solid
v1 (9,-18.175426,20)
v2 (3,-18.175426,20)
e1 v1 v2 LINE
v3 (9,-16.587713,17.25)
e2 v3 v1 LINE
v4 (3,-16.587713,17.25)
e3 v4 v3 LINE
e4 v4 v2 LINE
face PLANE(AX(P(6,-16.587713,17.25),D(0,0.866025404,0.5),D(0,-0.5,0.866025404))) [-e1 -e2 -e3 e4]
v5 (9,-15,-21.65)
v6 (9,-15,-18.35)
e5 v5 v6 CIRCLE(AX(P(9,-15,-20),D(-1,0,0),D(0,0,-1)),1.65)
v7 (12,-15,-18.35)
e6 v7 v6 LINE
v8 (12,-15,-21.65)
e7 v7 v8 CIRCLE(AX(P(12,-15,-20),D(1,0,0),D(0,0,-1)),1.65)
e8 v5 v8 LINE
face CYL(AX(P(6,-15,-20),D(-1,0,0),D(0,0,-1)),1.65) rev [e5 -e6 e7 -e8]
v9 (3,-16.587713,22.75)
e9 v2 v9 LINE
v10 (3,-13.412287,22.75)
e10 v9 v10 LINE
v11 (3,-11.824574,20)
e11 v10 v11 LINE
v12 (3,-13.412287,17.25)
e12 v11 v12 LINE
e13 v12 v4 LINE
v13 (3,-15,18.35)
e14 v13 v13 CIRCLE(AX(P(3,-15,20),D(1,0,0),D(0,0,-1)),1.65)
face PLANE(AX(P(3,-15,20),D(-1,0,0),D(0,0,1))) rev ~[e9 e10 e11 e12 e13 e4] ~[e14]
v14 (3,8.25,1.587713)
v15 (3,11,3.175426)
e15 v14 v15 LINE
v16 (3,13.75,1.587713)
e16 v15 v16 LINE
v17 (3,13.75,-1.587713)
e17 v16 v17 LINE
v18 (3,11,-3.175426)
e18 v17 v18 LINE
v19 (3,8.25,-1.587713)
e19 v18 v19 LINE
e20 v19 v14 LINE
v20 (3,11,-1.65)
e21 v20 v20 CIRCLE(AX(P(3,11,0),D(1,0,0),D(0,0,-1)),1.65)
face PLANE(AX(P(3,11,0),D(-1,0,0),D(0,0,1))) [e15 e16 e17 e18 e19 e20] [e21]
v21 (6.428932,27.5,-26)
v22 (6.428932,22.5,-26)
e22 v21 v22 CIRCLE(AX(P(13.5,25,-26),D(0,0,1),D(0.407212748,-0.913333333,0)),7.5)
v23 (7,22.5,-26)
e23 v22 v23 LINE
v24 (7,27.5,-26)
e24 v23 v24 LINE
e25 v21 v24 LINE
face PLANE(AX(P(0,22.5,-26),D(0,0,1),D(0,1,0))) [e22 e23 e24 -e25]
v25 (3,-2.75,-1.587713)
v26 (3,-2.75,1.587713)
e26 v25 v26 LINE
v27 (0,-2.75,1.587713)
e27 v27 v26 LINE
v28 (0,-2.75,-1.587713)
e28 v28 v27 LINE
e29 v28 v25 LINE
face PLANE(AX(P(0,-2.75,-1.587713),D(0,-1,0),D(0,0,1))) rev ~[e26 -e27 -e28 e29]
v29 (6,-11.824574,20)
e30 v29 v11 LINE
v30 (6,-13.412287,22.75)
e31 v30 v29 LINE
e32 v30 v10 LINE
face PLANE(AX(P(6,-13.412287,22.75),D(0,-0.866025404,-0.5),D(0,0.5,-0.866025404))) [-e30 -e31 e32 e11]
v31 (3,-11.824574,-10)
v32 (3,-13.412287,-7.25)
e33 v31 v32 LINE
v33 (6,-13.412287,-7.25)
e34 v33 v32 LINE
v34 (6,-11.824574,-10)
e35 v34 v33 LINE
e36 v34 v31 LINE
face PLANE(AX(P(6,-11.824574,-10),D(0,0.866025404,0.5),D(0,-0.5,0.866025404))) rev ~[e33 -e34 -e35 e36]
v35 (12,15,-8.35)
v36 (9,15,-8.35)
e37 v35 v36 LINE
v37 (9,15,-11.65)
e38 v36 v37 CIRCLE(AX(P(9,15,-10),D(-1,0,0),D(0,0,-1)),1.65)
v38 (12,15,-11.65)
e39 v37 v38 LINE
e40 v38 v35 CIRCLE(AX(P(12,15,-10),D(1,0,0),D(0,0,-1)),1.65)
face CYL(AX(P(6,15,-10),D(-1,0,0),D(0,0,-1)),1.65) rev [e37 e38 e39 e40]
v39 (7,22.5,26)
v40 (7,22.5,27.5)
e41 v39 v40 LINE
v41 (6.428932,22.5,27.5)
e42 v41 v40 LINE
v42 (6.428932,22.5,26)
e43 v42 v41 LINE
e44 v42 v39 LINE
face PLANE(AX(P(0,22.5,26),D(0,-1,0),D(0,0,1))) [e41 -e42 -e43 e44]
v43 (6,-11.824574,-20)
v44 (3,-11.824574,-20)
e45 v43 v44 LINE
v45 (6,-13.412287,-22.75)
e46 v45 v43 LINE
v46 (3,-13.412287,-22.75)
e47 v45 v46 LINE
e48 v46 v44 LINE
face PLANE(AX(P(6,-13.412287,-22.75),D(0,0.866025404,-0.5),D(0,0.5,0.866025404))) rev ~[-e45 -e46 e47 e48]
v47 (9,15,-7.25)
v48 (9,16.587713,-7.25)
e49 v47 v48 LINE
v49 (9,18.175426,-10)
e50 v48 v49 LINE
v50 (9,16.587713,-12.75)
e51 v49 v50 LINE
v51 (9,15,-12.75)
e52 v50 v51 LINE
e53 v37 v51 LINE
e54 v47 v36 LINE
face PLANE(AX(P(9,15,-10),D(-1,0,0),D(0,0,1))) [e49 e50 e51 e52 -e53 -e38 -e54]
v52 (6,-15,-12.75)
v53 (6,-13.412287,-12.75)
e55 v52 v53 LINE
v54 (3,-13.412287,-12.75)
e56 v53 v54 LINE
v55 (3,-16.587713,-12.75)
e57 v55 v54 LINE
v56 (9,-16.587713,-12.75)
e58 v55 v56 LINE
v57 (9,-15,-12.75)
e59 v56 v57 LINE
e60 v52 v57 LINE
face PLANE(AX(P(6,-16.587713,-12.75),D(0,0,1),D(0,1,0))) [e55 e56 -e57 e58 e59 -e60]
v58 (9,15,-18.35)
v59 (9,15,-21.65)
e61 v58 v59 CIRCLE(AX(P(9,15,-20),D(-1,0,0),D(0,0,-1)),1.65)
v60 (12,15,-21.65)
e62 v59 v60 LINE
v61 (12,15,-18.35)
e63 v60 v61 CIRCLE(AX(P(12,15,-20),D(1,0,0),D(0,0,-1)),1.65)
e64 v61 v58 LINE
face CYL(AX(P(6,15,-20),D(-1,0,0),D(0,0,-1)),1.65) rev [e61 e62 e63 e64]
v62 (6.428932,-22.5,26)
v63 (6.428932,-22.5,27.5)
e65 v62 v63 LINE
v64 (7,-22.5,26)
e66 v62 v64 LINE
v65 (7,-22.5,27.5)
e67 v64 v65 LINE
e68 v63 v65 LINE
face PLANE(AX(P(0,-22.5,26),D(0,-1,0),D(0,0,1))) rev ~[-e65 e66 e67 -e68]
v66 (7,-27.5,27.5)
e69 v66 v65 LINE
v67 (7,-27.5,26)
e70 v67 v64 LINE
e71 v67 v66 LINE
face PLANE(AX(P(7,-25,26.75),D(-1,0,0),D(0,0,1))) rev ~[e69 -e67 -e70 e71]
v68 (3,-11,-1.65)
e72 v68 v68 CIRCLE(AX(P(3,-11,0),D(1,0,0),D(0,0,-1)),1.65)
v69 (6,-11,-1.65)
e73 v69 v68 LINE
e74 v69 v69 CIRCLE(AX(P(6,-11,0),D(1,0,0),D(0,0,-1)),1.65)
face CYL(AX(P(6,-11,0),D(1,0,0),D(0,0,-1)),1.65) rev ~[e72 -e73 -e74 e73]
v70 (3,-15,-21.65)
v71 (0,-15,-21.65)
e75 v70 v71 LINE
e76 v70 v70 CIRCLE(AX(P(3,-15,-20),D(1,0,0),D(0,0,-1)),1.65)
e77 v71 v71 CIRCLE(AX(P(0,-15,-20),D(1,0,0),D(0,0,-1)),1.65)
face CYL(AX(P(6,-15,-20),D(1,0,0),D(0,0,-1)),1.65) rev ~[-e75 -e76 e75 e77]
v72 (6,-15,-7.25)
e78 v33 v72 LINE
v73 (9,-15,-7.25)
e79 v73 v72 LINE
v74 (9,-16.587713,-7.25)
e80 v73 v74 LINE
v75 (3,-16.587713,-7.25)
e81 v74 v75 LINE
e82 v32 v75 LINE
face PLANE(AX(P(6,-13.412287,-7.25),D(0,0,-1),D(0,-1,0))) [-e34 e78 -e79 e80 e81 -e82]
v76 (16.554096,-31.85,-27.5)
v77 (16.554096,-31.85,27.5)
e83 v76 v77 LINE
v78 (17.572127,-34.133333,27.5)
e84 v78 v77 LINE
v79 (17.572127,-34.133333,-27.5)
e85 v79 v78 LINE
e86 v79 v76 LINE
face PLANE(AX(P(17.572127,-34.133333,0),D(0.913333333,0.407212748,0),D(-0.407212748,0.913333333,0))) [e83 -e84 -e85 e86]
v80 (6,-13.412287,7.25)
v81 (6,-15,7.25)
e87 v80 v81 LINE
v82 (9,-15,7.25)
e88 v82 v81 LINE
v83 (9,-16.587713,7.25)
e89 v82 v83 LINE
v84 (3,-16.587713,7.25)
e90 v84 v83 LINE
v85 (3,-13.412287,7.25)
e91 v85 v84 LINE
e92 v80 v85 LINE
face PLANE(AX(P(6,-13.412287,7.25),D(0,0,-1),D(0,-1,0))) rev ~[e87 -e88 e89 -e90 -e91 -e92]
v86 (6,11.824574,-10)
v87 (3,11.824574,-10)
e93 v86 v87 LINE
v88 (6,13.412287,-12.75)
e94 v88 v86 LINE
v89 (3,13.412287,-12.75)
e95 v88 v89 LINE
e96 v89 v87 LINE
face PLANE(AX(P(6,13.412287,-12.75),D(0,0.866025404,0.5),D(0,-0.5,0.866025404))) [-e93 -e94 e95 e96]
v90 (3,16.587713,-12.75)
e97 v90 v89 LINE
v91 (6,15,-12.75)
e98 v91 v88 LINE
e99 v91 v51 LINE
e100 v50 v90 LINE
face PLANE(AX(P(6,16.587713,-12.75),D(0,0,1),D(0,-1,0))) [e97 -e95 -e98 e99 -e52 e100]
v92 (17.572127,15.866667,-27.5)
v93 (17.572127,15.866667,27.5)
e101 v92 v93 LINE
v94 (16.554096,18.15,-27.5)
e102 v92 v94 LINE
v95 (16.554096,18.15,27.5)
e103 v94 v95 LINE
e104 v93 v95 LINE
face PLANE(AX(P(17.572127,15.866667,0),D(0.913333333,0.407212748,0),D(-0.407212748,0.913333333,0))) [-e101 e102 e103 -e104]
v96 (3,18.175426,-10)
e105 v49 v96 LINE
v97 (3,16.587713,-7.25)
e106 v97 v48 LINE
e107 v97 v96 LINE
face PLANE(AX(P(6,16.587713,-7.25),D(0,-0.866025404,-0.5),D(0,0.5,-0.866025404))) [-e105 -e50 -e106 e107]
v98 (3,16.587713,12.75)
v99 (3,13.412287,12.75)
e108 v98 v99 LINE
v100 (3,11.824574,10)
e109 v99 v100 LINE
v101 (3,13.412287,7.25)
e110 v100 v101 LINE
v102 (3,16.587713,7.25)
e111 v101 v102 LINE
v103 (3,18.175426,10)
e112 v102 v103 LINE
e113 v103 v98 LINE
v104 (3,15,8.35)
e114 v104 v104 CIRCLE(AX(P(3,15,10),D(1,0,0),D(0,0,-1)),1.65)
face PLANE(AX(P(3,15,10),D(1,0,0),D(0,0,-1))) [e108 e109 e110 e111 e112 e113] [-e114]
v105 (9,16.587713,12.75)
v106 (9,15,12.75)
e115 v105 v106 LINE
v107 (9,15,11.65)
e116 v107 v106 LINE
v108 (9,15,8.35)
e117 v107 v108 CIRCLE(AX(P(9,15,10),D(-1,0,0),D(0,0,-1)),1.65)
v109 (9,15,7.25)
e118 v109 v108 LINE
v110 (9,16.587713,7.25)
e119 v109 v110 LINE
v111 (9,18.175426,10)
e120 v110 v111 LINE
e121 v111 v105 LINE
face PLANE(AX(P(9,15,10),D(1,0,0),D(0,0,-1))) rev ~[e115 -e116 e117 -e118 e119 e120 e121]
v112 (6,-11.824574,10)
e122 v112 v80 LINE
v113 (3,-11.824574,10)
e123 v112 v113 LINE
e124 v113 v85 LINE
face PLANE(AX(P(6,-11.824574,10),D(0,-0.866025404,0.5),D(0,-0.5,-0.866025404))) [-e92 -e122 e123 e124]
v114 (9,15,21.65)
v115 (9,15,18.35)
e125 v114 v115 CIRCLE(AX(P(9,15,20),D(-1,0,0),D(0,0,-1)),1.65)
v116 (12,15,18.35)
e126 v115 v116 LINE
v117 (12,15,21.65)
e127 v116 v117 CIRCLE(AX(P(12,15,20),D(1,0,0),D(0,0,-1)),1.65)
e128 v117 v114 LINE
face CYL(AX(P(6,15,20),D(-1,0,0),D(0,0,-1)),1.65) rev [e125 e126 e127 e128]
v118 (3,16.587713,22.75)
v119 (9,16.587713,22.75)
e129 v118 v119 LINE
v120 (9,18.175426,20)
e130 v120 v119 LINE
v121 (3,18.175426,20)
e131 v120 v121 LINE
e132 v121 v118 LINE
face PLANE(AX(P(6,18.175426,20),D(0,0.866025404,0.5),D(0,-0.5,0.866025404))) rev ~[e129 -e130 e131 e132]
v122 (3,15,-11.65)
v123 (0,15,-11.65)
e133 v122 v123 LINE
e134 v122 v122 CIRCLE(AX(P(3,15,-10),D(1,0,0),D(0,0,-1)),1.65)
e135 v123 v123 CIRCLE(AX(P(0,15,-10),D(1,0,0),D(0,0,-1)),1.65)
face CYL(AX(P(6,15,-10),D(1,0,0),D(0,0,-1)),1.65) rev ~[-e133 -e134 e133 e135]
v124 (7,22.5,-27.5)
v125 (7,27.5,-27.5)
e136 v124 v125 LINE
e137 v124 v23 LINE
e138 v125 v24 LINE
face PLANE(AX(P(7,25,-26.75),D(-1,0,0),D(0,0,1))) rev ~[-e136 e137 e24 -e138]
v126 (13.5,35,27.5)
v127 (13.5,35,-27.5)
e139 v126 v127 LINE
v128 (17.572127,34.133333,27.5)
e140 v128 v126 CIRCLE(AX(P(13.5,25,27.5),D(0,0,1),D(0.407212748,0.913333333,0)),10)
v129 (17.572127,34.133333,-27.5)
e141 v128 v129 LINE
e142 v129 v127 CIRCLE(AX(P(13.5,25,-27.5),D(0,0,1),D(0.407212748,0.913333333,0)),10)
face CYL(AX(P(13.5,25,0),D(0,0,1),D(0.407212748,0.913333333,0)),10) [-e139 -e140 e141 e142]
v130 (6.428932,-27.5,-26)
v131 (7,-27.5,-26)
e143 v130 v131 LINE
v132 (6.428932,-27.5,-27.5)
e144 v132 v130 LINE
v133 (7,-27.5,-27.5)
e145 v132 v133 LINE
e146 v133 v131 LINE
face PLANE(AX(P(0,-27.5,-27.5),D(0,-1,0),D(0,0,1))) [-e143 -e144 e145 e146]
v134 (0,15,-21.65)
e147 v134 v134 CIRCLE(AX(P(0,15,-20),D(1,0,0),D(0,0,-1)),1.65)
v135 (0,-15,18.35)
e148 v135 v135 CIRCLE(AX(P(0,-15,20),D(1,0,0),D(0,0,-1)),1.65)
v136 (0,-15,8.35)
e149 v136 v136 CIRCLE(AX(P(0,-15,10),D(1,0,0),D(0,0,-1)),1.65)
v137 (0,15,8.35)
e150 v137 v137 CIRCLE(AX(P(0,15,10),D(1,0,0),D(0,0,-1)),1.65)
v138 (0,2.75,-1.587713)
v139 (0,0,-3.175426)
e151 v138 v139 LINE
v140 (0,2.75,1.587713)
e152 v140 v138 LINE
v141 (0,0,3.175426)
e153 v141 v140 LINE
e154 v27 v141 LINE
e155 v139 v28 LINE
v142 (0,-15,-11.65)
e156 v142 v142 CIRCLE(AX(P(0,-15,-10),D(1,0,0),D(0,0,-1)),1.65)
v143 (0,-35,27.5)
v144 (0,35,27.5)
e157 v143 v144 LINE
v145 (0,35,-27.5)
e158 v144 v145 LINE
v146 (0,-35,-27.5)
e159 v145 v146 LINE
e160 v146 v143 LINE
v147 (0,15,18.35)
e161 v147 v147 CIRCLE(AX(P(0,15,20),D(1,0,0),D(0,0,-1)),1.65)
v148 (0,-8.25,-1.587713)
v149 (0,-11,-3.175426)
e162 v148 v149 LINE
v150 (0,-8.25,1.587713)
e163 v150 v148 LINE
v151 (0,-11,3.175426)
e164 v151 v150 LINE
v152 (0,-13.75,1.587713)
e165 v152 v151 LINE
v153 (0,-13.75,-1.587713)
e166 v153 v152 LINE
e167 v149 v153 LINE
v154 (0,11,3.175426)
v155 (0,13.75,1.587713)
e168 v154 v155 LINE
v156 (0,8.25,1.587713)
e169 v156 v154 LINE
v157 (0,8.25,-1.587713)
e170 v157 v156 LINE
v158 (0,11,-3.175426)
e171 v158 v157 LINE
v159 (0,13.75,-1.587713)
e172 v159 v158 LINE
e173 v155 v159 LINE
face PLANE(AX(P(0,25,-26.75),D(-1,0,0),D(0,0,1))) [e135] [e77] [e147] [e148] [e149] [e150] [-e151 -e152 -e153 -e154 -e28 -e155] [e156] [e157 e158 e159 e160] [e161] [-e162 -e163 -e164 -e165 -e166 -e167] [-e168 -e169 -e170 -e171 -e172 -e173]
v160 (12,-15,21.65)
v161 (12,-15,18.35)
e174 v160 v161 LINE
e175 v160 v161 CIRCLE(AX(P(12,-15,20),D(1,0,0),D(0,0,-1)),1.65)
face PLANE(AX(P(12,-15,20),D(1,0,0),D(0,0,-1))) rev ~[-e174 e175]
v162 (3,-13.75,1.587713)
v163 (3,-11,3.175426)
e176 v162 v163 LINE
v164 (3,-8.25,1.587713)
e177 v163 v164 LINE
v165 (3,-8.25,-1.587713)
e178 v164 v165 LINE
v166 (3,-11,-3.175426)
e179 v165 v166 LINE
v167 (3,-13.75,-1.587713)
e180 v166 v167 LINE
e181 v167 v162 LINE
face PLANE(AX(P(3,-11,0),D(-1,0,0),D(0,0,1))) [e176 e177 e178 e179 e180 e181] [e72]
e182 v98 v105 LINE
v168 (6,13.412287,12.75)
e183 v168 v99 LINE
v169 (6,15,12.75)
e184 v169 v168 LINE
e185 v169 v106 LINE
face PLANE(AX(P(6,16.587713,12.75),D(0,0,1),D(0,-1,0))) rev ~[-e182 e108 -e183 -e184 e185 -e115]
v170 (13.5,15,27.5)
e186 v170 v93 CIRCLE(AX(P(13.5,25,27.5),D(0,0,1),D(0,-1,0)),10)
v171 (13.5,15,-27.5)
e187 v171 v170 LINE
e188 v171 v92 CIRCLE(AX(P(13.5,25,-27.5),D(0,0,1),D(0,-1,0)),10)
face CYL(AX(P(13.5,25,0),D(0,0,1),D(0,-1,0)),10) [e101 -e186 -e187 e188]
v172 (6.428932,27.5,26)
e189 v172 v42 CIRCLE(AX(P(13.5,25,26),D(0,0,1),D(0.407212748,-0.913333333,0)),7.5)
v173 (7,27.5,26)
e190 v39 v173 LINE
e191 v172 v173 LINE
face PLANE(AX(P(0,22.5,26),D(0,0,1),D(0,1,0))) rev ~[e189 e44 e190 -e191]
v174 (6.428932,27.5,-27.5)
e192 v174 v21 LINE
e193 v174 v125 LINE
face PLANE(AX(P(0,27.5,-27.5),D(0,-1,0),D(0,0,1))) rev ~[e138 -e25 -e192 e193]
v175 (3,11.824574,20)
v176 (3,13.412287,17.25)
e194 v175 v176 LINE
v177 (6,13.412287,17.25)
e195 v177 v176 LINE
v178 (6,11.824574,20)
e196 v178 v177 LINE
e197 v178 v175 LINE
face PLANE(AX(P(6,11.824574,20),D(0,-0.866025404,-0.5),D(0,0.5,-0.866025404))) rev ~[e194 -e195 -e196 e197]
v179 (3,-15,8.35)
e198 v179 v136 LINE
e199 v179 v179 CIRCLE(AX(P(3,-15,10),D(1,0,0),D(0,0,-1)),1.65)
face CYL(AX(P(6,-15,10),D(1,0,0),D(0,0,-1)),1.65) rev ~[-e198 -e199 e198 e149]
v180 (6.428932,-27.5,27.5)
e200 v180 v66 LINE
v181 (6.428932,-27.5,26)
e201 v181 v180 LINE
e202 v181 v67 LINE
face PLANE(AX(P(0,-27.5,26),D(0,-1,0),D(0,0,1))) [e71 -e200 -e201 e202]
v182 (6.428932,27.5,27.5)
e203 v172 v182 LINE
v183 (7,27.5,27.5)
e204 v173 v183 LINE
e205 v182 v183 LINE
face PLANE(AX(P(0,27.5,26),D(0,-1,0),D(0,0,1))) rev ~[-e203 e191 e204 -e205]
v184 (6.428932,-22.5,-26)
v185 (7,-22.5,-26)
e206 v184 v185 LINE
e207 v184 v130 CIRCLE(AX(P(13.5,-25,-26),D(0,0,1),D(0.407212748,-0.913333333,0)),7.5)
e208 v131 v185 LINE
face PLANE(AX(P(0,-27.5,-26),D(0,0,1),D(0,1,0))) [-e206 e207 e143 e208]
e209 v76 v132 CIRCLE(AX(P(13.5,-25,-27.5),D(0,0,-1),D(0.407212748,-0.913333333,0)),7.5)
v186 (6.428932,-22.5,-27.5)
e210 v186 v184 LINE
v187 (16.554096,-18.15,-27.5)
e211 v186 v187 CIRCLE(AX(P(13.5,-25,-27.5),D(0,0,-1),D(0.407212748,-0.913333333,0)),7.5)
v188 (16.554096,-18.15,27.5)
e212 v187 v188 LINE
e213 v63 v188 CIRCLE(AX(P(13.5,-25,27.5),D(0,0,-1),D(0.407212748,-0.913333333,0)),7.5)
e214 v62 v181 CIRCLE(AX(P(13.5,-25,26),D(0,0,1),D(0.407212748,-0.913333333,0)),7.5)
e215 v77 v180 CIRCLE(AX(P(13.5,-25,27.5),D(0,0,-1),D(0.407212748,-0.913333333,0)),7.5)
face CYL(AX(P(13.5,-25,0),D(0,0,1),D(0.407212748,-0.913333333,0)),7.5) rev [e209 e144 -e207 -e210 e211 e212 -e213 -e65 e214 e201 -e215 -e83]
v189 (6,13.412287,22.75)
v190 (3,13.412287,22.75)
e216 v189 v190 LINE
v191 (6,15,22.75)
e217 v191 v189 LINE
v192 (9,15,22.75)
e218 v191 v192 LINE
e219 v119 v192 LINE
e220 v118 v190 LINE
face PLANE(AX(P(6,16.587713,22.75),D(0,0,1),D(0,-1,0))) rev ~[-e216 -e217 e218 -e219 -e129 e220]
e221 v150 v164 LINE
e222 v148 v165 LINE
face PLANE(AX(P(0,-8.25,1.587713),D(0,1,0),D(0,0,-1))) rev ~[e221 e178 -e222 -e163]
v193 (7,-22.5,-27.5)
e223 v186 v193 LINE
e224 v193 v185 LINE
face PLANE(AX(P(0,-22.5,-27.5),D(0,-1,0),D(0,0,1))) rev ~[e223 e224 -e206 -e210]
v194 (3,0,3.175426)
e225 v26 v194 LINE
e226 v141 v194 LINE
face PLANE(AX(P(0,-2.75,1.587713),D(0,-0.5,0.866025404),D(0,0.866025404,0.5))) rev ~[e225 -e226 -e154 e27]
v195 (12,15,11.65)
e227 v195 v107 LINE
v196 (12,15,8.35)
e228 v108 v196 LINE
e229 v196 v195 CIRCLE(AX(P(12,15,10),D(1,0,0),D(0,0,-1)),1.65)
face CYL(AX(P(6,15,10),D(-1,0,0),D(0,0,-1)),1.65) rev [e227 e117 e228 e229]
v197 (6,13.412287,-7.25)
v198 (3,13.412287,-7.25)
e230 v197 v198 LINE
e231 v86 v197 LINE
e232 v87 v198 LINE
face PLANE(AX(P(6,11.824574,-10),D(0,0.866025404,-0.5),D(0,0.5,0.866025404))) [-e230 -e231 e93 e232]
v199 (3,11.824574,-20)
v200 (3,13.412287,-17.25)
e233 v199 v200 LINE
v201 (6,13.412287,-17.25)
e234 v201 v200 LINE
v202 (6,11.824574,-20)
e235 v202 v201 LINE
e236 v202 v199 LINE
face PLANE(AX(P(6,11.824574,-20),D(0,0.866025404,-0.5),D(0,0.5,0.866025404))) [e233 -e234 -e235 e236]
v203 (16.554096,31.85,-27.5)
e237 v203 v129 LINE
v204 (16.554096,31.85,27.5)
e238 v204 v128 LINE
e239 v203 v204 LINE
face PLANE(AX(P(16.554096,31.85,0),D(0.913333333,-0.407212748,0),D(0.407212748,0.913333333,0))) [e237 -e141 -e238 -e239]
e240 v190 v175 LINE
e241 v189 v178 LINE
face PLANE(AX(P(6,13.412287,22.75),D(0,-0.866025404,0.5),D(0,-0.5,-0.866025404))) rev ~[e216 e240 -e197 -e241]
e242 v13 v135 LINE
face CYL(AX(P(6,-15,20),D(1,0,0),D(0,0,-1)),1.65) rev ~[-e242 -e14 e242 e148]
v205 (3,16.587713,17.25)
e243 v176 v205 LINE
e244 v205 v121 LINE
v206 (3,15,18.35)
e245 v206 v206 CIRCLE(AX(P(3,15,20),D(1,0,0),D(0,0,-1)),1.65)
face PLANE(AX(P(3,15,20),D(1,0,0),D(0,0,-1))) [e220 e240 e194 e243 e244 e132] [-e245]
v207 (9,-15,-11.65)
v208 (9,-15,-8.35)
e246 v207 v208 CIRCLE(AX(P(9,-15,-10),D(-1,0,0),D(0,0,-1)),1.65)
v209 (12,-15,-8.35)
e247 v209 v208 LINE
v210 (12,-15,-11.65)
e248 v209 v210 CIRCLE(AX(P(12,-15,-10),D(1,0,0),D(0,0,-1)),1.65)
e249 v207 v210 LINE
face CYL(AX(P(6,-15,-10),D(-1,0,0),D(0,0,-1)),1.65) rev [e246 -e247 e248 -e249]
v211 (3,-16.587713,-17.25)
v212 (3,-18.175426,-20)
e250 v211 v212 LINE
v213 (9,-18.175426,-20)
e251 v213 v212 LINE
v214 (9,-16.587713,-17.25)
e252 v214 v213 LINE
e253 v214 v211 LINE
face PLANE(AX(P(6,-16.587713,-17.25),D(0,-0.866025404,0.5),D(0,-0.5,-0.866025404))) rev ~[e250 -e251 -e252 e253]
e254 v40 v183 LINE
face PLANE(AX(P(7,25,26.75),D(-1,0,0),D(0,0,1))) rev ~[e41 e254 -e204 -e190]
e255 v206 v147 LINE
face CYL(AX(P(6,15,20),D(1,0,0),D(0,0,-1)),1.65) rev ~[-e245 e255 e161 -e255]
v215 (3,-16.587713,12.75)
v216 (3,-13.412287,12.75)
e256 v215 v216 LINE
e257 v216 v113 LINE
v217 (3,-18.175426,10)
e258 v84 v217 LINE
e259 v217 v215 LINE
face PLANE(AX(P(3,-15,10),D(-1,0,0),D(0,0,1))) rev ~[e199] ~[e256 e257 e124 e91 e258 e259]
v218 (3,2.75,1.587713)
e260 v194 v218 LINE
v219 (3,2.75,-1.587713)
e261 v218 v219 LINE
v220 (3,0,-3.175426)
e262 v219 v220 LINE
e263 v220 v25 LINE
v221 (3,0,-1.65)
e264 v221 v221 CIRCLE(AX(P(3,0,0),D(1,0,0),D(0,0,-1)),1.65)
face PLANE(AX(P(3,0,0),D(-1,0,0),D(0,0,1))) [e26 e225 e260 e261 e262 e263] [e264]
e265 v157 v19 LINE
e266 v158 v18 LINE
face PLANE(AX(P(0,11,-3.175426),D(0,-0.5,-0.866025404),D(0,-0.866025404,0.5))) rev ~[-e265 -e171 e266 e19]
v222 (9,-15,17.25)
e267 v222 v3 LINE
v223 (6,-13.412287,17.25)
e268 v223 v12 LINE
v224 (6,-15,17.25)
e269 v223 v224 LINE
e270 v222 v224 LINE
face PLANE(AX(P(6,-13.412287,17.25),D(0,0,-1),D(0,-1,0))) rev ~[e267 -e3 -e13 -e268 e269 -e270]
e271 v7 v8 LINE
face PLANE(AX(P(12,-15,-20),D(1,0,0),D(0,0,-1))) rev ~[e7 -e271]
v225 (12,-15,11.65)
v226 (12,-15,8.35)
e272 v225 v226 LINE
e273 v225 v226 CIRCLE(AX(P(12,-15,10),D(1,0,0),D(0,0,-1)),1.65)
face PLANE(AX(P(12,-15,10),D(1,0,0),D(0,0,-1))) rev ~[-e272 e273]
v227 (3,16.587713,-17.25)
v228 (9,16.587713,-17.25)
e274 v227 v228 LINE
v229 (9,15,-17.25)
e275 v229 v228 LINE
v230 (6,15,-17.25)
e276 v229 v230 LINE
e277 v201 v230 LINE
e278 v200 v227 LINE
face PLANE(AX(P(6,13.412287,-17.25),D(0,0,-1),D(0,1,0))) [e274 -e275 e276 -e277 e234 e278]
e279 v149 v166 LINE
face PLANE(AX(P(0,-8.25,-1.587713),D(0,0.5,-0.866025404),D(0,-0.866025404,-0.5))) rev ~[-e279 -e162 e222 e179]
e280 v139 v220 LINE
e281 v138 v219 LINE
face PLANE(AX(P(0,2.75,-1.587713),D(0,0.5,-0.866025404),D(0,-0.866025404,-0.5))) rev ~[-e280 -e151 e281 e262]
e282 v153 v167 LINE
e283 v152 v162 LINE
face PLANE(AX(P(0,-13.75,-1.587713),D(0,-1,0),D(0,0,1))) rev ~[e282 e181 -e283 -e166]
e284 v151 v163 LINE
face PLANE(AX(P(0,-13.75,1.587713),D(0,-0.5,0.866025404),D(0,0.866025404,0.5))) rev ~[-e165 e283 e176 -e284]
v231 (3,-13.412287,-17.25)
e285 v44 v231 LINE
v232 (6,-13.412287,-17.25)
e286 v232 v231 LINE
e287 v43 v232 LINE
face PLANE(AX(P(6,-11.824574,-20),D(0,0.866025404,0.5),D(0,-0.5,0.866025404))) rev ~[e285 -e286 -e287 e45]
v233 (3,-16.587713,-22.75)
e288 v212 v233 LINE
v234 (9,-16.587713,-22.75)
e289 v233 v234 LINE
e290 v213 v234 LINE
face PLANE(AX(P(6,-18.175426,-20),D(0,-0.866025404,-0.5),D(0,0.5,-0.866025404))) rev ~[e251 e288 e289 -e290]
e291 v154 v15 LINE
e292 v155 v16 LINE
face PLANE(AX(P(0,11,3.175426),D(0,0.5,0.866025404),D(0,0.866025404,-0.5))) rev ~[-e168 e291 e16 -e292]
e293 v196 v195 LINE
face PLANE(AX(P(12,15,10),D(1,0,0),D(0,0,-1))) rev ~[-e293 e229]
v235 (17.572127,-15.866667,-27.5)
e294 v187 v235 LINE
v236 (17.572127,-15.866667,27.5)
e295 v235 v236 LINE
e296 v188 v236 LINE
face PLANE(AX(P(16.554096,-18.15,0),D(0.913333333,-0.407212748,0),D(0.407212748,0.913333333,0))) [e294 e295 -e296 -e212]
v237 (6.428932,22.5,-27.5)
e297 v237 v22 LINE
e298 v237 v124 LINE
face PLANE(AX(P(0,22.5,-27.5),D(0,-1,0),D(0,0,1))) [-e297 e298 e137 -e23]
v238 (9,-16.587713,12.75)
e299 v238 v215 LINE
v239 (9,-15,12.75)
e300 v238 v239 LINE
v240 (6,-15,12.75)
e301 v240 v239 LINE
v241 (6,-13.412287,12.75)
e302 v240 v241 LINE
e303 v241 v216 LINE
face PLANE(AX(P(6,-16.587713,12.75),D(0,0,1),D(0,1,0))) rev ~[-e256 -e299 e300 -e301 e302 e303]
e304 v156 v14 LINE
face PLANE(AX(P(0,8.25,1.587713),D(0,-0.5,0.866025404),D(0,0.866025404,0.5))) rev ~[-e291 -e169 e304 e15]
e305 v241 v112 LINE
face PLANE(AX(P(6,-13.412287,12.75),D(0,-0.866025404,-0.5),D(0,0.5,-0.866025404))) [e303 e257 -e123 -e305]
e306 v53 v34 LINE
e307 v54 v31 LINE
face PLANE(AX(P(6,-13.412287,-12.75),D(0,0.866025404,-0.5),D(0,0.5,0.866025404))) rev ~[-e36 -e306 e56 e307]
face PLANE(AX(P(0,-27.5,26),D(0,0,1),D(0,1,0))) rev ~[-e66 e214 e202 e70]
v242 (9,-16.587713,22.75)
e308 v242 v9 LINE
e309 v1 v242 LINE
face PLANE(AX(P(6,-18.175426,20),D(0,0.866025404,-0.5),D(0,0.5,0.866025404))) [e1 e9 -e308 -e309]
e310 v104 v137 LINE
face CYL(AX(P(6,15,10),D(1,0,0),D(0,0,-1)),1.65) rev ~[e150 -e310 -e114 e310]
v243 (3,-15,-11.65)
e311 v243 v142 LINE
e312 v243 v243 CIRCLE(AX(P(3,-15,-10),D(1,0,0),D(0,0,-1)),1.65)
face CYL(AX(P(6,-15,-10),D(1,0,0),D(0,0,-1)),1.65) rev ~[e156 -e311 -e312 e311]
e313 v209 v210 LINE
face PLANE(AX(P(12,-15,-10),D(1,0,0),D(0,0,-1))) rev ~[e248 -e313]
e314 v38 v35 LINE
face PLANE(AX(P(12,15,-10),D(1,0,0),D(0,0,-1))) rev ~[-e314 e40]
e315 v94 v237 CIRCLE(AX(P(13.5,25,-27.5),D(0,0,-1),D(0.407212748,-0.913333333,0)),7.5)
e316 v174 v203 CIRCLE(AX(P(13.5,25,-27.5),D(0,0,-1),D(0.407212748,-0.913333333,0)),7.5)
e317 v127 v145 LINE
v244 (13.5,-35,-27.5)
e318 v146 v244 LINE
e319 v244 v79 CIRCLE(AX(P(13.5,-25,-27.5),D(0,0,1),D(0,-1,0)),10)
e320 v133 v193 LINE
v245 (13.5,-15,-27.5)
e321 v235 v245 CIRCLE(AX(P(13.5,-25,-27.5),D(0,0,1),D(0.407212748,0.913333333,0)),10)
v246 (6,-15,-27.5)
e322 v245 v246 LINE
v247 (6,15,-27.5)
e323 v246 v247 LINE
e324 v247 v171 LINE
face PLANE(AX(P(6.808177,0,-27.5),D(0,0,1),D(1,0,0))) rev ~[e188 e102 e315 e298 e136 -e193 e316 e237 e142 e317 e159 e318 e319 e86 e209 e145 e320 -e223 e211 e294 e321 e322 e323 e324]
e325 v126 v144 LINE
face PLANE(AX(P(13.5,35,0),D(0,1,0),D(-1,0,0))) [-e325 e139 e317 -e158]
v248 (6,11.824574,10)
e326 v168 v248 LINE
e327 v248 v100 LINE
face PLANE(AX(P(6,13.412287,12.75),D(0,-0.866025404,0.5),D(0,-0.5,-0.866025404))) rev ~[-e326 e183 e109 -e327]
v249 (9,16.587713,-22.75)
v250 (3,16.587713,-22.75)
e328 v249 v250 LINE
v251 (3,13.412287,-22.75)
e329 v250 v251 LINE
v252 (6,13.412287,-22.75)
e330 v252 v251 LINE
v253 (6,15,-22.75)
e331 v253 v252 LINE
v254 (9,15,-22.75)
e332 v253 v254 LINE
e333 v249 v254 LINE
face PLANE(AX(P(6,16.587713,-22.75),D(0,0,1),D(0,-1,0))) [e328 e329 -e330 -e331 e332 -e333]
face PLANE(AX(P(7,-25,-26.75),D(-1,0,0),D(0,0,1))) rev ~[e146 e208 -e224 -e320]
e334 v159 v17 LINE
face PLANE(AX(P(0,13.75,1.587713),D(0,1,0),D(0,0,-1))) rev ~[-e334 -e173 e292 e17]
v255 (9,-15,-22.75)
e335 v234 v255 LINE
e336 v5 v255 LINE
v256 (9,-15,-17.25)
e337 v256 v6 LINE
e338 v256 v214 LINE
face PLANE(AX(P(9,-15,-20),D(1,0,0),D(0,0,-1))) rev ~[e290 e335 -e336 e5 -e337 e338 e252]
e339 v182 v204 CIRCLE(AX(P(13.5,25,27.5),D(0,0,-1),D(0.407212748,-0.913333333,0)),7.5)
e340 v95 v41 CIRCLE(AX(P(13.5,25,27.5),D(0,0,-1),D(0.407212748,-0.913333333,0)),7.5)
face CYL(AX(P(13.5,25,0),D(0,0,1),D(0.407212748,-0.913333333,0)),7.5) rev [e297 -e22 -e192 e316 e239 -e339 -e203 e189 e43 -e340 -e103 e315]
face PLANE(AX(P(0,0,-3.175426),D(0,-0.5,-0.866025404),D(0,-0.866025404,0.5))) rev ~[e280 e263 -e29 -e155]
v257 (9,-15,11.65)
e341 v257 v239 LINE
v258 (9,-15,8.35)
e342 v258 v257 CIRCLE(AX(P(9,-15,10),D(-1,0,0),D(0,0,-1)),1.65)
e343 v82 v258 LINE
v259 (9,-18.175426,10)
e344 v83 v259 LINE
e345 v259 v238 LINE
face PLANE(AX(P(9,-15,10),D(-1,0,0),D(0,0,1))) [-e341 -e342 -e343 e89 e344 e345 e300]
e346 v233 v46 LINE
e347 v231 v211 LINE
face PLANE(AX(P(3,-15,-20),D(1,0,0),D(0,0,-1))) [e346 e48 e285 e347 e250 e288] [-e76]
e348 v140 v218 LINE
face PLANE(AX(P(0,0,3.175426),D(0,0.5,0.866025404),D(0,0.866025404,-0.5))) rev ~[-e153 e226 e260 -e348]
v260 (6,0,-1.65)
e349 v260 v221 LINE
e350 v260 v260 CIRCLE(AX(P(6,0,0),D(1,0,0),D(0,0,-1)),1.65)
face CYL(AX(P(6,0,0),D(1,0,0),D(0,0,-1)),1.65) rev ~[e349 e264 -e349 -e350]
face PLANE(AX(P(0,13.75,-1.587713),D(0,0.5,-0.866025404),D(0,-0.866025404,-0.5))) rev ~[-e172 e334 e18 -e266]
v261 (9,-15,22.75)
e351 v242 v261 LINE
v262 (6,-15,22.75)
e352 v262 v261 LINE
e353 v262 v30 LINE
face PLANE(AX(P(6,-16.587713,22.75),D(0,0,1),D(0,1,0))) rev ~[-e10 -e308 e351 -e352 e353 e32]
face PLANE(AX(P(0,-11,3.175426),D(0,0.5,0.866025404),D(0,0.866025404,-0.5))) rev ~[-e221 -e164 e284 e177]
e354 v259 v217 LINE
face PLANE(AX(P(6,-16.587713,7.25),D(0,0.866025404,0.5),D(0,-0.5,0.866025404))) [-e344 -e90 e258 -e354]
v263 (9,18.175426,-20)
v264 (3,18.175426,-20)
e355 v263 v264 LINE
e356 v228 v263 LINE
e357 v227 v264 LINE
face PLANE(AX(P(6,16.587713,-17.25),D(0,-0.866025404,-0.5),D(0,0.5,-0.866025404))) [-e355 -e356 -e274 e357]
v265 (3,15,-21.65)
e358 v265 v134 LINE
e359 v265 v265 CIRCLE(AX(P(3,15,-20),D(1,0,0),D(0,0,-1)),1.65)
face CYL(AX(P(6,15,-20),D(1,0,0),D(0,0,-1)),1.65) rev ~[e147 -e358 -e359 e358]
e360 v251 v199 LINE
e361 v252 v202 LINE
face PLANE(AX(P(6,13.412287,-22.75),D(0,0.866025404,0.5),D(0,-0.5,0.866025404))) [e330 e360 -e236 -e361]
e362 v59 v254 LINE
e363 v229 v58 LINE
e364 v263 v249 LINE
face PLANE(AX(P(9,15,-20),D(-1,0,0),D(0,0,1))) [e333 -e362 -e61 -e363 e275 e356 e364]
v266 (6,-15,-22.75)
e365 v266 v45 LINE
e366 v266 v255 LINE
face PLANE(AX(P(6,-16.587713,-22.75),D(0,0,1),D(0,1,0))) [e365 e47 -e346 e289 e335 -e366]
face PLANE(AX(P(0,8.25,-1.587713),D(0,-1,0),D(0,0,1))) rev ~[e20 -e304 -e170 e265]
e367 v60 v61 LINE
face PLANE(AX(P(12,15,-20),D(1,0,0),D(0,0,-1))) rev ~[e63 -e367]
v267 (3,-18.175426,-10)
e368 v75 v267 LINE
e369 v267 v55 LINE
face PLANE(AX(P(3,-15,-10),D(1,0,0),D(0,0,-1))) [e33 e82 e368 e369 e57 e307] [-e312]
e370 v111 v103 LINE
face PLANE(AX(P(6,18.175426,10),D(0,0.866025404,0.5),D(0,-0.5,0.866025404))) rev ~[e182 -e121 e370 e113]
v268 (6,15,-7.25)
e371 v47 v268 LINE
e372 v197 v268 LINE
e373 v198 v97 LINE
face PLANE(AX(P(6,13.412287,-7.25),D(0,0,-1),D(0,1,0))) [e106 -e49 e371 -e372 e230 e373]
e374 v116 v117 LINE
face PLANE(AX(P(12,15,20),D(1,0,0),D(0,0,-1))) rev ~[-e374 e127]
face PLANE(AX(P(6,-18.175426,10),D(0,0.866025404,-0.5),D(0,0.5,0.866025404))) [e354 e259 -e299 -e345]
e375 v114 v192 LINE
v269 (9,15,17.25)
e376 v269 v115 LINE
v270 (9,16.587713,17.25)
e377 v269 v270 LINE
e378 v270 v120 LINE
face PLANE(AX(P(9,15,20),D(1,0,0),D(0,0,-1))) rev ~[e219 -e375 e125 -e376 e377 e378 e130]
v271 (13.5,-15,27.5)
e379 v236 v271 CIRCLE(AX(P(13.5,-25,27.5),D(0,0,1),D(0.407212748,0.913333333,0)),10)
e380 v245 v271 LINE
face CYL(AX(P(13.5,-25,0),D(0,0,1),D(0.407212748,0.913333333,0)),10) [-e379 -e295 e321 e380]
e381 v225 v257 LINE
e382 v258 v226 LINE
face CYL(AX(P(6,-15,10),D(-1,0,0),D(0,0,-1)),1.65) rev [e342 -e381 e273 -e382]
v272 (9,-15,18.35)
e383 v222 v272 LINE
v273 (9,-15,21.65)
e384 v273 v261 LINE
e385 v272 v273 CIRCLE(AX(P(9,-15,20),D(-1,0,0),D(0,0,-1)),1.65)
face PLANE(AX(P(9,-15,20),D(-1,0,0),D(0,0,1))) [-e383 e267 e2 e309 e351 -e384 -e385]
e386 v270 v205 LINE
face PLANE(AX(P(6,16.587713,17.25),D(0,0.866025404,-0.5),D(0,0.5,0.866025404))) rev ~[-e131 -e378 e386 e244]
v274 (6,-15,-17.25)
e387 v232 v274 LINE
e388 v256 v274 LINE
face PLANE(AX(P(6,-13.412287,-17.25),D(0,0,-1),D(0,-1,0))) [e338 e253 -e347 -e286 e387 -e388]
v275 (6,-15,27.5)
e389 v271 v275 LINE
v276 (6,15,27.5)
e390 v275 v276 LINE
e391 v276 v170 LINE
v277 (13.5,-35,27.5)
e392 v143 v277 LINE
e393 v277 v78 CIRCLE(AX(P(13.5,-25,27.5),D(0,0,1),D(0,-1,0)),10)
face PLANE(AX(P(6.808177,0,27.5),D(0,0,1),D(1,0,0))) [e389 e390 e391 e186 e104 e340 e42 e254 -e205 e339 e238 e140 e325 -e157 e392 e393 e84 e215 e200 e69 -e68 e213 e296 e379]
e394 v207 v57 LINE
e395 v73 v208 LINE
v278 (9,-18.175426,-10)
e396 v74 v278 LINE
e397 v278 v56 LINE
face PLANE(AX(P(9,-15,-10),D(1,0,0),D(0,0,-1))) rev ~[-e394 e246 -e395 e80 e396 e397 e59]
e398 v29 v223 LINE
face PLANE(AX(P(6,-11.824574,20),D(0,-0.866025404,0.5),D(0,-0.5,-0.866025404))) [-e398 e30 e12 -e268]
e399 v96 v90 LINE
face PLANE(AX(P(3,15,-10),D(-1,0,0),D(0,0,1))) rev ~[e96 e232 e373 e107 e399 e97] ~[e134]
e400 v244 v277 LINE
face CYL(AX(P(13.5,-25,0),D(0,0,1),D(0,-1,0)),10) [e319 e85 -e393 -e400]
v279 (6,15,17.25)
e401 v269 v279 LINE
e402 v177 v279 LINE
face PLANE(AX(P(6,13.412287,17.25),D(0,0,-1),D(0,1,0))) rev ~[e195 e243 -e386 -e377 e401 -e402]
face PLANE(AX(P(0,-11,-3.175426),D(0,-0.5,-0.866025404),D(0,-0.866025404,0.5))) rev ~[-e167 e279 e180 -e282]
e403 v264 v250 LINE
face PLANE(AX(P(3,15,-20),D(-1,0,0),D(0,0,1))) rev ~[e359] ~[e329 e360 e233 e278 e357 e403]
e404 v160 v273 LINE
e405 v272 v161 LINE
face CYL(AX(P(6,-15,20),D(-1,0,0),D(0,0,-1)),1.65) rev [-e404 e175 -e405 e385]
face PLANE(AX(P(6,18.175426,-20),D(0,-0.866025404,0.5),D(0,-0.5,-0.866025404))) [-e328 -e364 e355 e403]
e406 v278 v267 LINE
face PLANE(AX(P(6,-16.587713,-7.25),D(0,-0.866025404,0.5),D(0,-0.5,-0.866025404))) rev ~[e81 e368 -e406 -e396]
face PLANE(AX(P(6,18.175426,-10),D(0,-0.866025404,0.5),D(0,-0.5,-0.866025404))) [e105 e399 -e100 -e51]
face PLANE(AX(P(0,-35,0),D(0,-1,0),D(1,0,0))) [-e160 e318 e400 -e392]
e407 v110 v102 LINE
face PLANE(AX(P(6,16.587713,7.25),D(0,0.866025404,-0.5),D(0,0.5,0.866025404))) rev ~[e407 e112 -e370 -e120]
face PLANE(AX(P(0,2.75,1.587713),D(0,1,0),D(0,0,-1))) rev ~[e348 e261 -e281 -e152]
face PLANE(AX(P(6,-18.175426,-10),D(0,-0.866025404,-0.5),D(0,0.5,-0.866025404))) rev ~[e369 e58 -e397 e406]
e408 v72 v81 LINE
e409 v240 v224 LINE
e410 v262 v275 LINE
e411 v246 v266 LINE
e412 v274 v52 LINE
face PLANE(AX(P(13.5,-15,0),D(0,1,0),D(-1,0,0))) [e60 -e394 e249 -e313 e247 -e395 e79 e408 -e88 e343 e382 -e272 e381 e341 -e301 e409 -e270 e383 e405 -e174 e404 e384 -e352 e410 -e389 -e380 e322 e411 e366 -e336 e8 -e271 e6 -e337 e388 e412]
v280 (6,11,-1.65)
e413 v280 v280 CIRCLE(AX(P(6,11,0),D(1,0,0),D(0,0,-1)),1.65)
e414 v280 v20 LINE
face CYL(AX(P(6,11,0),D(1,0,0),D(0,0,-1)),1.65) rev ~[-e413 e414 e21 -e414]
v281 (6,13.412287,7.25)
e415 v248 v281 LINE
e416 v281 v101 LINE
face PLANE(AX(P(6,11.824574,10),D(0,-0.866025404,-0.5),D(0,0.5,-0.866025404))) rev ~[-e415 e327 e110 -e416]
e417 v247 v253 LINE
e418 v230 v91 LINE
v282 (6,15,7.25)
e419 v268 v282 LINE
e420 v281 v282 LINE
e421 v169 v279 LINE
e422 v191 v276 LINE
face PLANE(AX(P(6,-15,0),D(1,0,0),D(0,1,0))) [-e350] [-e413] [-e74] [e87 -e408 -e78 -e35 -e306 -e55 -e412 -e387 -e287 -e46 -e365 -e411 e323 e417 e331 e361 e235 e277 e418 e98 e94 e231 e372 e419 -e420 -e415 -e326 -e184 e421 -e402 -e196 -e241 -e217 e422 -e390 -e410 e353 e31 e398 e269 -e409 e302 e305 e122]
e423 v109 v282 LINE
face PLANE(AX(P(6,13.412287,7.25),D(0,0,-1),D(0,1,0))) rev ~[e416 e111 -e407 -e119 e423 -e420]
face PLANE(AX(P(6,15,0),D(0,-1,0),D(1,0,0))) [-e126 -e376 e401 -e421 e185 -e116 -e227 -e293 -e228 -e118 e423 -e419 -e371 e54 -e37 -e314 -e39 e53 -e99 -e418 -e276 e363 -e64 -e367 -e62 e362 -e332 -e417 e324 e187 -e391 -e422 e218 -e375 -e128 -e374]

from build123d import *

# Parameters (mm, degrees)
RESSALTO_EXTRUS_O1_DEPTH   = 27.5
CORTE_EXTRUS_O3_DEPTH      = 6
CORTE_EXTRUS_O3_DEPTH_BACK = 10
ESBO_O6_R                  = 1.65
CORTE_EXTRUS_O4_DEPTH      = 3
CORTE_EXTRUS_O4_DEPTH_BACK = 3
CORTE_EXTRUS_O5_DEPTH      = 3
ESBO_O10_W                 = 1.5
ESBO_O10_H                 = 5
RESSALTO_EXTRUS_O3_DEPTH   = 7


with BuildPart() as part:
    # Esboço1 → Ressalto-extrusão1 (new, symmetric)
    with BuildSketch(Plane.XY):
        with BuildLine():
            Line((0, 35), (0, -35))
            Line((0, -35), (13.5, -35))
            ThreePointArc((13.5, -35), (15.581665999, -34.780933834), (17.572127481, -34.133333333))
            Line((17.572127481, -34.133333333), (16.554095611, -31.85))
            ThreePointArc((16.554095611, -31.85), (6, -25), (16.554095611, -18.15))
            Line((16.554095611, -18.15), (17.572127481, -15.866666667))
            ThreePointArc((17.572127481, -15.866666667), (15.581665999, -15.219066166), (13.5, -15))
            Line((13.5, -15), (6, -15))
            Line((6, -15), (6, 15))
            Line((6, 15), (13.5, 15))
            ThreePointArc((13.5, 15), (15.581665999, 15.219066166), (17.572127481, 15.866666667))
            Line((17.572127481, 15.866666667), (16.554095611, 18.15))
            ThreePointArc((16.554095611, 18.15), (6, 25), (16.554095611, 31.85))
            Line((16.554095611, 31.85), (17.572127481, 34.133333333))
            ThreePointArc((17.572127481, 34.133333333), (15.581665999, 34.780933834), (13.5, 35))
            Line((13.5, 35), (0, 35))
        make_face()
    extrude(amount=RESSALTO_EXTRUS_O1_DEPTH, both=True)

    # Esboço6 → Corte-extrusão3 (cut, two sides: drawn at the far end of the back side and taken through both)
    with BuildSketch(Plane(origin=(6, 0, 0), x_dir=(0, 0, -1), z_dir=(1, 0, 0)).offset(-CORTE_EXTRUS_O3_DEPTH_BACK)):
        with Locations((-20, 15)):
            Circle(ESBO_O6_R)
        with Locations((20, -15)):
            Circle(ESBO_O6_R)
        with Locations((10, -15)):
            Circle(ESBO_O6_R)
        with Locations((-10, 15)):
            Circle(ESBO_O6_R)
        with Locations((10, 15)):
            Circle(ESBO_O6_R)
        with Locations((20, 15)):
            Circle(ESBO_O6_R)
        with Locations((-10, -15)):
            Circle(ESBO_O6_R)
        with Locations((-20, -15)):
            Circle(ESBO_O6_R)
        with Locations((0, 11)):
            Circle(ESBO_O6_R)
        Circle(ESBO_O6_R)
        with Locations((0, -11)):
            Circle(ESBO_O6_R)
    extrude(amount=CORTE_EXTRUS_O3_DEPTH + CORTE_EXTRUS_O3_DEPTH_BACK, mode=Mode.SUBTRACT)

    # Esboço8 → Corte-extrusão4 (cut, two sides: drawn at the far end of the back side and taken through both)
    with BuildSketch(Plane(origin=(6, 0, 0), x_dir=(0, 0, -1), z_dir=(1, 0, 0)).offset(-CORTE_EXTRUS_O4_DEPTH_BACK)):
        Polygon((-20, 11.824573519), (-17.25, 13.41228676), (-17.25, 16.58771324), (-20, 18.175426481), (-22.75, 16.58771324), (-22.75, 13.41228676), align=None)
        Polygon((-10, 11.824573519), (-7.25, 13.41228676), (-7.25, 16.58771324), (-10, 18.175426481), (-12.75, 16.58771324), (-12.75, 13.41228676), align=None)
        Polygon((-12.75, -13.41228676), (-10, -11.824573519), (-7.25, -13.41228676), (-7.25, -16.58771324), (-10, -18.175426481), (-12.75, -16.58771324), align=None)
        Polygon((-22.75, -13.41228676), (-20, -11.824573519), (-17.25, -13.41228676), (-17.25, -16.58771324), (-20, -18.175426481), (-22.75, -16.58771324), align=None)
        Polygon((20, -11.824573519), (17.25, -13.41228676), (17.25, -16.58771324), (20, -18.175426481), (22.75, -16.58771324), (22.75, -13.41228676), align=None)
        Polygon((10, -11.824573519), (7.25, -13.41228676), (7.25, -16.58771324), (10, -18.175426481), (12.75, -16.58771324), (12.75, -13.41228676), align=None)
        Polygon((12.75, 13.41228676), (10, 11.824573519), (7.25, 13.41228676), (7.25, 16.58771324), (10, 18.175426481), (12.75, 16.58771324), align=None)
        Polygon((22.75, 13.41228676), (20, 11.824573519), (17.25, 13.41228676), (17.25, 16.58771324), (20, 18.175426481), (22.75, 16.58771324), align=None)
    extrude(amount=CORTE_EXTRUS_O4_DEPTH + CORTE_EXTRUS_O4_DEPTH_BACK, mode=Mode.SUBTRACT)

    # Esboço9 → Corte-extrusão5 (cut)
    with BuildSketch(Plane.ZY):
        Polygon((3.175426481, 11), (1.58771324, 13.75), (-1.58771324, 13.75), (-3.175426481, 11), (-1.58771324, 8.25), (1.58771324, 8.25), align=None)
        Polygon((3.175426481, 0), (1.58771324, 2.75), (-1.58771324, 2.75), (-3.175426481, 0), (-1.58771324, -2.75), (1.58771324, -2.75), align=None)
        Polygon((3.175426481, -11), (1.58771324, -8.25), (-1.58771324, -8.25), (-3.175426481, -11), (-1.58771324, -13.75), (1.58771324, -13.75), align=None)
    extrude(amount=-CORTE_EXTRUS_O5_DEPTH, mode=Mode.SUBTRACT)

    # Esboço10 → Ressalto-extrusão3 (add)
    with BuildSketch(Plane.ZY):
        with Locations((-26.75, 25)):
            Rectangle(ESBO_O10_W, ESBO_O10_H)
        with Locations((26.75, 25)):
            Rectangle(ESBO_O10_W, ESBO_O10_H)
        with Locations((26.75, -25)):
            Rectangle(ESBO_O10_W, ESBO_O10_H)
        with Locations((-26.75, -25)):
            Rectangle(ESBO_O10_W, ESBO_O10_H)
    extrude(amount=-RESSALTO_EXTRUS_O3_DEPTH)


solid = part.part
